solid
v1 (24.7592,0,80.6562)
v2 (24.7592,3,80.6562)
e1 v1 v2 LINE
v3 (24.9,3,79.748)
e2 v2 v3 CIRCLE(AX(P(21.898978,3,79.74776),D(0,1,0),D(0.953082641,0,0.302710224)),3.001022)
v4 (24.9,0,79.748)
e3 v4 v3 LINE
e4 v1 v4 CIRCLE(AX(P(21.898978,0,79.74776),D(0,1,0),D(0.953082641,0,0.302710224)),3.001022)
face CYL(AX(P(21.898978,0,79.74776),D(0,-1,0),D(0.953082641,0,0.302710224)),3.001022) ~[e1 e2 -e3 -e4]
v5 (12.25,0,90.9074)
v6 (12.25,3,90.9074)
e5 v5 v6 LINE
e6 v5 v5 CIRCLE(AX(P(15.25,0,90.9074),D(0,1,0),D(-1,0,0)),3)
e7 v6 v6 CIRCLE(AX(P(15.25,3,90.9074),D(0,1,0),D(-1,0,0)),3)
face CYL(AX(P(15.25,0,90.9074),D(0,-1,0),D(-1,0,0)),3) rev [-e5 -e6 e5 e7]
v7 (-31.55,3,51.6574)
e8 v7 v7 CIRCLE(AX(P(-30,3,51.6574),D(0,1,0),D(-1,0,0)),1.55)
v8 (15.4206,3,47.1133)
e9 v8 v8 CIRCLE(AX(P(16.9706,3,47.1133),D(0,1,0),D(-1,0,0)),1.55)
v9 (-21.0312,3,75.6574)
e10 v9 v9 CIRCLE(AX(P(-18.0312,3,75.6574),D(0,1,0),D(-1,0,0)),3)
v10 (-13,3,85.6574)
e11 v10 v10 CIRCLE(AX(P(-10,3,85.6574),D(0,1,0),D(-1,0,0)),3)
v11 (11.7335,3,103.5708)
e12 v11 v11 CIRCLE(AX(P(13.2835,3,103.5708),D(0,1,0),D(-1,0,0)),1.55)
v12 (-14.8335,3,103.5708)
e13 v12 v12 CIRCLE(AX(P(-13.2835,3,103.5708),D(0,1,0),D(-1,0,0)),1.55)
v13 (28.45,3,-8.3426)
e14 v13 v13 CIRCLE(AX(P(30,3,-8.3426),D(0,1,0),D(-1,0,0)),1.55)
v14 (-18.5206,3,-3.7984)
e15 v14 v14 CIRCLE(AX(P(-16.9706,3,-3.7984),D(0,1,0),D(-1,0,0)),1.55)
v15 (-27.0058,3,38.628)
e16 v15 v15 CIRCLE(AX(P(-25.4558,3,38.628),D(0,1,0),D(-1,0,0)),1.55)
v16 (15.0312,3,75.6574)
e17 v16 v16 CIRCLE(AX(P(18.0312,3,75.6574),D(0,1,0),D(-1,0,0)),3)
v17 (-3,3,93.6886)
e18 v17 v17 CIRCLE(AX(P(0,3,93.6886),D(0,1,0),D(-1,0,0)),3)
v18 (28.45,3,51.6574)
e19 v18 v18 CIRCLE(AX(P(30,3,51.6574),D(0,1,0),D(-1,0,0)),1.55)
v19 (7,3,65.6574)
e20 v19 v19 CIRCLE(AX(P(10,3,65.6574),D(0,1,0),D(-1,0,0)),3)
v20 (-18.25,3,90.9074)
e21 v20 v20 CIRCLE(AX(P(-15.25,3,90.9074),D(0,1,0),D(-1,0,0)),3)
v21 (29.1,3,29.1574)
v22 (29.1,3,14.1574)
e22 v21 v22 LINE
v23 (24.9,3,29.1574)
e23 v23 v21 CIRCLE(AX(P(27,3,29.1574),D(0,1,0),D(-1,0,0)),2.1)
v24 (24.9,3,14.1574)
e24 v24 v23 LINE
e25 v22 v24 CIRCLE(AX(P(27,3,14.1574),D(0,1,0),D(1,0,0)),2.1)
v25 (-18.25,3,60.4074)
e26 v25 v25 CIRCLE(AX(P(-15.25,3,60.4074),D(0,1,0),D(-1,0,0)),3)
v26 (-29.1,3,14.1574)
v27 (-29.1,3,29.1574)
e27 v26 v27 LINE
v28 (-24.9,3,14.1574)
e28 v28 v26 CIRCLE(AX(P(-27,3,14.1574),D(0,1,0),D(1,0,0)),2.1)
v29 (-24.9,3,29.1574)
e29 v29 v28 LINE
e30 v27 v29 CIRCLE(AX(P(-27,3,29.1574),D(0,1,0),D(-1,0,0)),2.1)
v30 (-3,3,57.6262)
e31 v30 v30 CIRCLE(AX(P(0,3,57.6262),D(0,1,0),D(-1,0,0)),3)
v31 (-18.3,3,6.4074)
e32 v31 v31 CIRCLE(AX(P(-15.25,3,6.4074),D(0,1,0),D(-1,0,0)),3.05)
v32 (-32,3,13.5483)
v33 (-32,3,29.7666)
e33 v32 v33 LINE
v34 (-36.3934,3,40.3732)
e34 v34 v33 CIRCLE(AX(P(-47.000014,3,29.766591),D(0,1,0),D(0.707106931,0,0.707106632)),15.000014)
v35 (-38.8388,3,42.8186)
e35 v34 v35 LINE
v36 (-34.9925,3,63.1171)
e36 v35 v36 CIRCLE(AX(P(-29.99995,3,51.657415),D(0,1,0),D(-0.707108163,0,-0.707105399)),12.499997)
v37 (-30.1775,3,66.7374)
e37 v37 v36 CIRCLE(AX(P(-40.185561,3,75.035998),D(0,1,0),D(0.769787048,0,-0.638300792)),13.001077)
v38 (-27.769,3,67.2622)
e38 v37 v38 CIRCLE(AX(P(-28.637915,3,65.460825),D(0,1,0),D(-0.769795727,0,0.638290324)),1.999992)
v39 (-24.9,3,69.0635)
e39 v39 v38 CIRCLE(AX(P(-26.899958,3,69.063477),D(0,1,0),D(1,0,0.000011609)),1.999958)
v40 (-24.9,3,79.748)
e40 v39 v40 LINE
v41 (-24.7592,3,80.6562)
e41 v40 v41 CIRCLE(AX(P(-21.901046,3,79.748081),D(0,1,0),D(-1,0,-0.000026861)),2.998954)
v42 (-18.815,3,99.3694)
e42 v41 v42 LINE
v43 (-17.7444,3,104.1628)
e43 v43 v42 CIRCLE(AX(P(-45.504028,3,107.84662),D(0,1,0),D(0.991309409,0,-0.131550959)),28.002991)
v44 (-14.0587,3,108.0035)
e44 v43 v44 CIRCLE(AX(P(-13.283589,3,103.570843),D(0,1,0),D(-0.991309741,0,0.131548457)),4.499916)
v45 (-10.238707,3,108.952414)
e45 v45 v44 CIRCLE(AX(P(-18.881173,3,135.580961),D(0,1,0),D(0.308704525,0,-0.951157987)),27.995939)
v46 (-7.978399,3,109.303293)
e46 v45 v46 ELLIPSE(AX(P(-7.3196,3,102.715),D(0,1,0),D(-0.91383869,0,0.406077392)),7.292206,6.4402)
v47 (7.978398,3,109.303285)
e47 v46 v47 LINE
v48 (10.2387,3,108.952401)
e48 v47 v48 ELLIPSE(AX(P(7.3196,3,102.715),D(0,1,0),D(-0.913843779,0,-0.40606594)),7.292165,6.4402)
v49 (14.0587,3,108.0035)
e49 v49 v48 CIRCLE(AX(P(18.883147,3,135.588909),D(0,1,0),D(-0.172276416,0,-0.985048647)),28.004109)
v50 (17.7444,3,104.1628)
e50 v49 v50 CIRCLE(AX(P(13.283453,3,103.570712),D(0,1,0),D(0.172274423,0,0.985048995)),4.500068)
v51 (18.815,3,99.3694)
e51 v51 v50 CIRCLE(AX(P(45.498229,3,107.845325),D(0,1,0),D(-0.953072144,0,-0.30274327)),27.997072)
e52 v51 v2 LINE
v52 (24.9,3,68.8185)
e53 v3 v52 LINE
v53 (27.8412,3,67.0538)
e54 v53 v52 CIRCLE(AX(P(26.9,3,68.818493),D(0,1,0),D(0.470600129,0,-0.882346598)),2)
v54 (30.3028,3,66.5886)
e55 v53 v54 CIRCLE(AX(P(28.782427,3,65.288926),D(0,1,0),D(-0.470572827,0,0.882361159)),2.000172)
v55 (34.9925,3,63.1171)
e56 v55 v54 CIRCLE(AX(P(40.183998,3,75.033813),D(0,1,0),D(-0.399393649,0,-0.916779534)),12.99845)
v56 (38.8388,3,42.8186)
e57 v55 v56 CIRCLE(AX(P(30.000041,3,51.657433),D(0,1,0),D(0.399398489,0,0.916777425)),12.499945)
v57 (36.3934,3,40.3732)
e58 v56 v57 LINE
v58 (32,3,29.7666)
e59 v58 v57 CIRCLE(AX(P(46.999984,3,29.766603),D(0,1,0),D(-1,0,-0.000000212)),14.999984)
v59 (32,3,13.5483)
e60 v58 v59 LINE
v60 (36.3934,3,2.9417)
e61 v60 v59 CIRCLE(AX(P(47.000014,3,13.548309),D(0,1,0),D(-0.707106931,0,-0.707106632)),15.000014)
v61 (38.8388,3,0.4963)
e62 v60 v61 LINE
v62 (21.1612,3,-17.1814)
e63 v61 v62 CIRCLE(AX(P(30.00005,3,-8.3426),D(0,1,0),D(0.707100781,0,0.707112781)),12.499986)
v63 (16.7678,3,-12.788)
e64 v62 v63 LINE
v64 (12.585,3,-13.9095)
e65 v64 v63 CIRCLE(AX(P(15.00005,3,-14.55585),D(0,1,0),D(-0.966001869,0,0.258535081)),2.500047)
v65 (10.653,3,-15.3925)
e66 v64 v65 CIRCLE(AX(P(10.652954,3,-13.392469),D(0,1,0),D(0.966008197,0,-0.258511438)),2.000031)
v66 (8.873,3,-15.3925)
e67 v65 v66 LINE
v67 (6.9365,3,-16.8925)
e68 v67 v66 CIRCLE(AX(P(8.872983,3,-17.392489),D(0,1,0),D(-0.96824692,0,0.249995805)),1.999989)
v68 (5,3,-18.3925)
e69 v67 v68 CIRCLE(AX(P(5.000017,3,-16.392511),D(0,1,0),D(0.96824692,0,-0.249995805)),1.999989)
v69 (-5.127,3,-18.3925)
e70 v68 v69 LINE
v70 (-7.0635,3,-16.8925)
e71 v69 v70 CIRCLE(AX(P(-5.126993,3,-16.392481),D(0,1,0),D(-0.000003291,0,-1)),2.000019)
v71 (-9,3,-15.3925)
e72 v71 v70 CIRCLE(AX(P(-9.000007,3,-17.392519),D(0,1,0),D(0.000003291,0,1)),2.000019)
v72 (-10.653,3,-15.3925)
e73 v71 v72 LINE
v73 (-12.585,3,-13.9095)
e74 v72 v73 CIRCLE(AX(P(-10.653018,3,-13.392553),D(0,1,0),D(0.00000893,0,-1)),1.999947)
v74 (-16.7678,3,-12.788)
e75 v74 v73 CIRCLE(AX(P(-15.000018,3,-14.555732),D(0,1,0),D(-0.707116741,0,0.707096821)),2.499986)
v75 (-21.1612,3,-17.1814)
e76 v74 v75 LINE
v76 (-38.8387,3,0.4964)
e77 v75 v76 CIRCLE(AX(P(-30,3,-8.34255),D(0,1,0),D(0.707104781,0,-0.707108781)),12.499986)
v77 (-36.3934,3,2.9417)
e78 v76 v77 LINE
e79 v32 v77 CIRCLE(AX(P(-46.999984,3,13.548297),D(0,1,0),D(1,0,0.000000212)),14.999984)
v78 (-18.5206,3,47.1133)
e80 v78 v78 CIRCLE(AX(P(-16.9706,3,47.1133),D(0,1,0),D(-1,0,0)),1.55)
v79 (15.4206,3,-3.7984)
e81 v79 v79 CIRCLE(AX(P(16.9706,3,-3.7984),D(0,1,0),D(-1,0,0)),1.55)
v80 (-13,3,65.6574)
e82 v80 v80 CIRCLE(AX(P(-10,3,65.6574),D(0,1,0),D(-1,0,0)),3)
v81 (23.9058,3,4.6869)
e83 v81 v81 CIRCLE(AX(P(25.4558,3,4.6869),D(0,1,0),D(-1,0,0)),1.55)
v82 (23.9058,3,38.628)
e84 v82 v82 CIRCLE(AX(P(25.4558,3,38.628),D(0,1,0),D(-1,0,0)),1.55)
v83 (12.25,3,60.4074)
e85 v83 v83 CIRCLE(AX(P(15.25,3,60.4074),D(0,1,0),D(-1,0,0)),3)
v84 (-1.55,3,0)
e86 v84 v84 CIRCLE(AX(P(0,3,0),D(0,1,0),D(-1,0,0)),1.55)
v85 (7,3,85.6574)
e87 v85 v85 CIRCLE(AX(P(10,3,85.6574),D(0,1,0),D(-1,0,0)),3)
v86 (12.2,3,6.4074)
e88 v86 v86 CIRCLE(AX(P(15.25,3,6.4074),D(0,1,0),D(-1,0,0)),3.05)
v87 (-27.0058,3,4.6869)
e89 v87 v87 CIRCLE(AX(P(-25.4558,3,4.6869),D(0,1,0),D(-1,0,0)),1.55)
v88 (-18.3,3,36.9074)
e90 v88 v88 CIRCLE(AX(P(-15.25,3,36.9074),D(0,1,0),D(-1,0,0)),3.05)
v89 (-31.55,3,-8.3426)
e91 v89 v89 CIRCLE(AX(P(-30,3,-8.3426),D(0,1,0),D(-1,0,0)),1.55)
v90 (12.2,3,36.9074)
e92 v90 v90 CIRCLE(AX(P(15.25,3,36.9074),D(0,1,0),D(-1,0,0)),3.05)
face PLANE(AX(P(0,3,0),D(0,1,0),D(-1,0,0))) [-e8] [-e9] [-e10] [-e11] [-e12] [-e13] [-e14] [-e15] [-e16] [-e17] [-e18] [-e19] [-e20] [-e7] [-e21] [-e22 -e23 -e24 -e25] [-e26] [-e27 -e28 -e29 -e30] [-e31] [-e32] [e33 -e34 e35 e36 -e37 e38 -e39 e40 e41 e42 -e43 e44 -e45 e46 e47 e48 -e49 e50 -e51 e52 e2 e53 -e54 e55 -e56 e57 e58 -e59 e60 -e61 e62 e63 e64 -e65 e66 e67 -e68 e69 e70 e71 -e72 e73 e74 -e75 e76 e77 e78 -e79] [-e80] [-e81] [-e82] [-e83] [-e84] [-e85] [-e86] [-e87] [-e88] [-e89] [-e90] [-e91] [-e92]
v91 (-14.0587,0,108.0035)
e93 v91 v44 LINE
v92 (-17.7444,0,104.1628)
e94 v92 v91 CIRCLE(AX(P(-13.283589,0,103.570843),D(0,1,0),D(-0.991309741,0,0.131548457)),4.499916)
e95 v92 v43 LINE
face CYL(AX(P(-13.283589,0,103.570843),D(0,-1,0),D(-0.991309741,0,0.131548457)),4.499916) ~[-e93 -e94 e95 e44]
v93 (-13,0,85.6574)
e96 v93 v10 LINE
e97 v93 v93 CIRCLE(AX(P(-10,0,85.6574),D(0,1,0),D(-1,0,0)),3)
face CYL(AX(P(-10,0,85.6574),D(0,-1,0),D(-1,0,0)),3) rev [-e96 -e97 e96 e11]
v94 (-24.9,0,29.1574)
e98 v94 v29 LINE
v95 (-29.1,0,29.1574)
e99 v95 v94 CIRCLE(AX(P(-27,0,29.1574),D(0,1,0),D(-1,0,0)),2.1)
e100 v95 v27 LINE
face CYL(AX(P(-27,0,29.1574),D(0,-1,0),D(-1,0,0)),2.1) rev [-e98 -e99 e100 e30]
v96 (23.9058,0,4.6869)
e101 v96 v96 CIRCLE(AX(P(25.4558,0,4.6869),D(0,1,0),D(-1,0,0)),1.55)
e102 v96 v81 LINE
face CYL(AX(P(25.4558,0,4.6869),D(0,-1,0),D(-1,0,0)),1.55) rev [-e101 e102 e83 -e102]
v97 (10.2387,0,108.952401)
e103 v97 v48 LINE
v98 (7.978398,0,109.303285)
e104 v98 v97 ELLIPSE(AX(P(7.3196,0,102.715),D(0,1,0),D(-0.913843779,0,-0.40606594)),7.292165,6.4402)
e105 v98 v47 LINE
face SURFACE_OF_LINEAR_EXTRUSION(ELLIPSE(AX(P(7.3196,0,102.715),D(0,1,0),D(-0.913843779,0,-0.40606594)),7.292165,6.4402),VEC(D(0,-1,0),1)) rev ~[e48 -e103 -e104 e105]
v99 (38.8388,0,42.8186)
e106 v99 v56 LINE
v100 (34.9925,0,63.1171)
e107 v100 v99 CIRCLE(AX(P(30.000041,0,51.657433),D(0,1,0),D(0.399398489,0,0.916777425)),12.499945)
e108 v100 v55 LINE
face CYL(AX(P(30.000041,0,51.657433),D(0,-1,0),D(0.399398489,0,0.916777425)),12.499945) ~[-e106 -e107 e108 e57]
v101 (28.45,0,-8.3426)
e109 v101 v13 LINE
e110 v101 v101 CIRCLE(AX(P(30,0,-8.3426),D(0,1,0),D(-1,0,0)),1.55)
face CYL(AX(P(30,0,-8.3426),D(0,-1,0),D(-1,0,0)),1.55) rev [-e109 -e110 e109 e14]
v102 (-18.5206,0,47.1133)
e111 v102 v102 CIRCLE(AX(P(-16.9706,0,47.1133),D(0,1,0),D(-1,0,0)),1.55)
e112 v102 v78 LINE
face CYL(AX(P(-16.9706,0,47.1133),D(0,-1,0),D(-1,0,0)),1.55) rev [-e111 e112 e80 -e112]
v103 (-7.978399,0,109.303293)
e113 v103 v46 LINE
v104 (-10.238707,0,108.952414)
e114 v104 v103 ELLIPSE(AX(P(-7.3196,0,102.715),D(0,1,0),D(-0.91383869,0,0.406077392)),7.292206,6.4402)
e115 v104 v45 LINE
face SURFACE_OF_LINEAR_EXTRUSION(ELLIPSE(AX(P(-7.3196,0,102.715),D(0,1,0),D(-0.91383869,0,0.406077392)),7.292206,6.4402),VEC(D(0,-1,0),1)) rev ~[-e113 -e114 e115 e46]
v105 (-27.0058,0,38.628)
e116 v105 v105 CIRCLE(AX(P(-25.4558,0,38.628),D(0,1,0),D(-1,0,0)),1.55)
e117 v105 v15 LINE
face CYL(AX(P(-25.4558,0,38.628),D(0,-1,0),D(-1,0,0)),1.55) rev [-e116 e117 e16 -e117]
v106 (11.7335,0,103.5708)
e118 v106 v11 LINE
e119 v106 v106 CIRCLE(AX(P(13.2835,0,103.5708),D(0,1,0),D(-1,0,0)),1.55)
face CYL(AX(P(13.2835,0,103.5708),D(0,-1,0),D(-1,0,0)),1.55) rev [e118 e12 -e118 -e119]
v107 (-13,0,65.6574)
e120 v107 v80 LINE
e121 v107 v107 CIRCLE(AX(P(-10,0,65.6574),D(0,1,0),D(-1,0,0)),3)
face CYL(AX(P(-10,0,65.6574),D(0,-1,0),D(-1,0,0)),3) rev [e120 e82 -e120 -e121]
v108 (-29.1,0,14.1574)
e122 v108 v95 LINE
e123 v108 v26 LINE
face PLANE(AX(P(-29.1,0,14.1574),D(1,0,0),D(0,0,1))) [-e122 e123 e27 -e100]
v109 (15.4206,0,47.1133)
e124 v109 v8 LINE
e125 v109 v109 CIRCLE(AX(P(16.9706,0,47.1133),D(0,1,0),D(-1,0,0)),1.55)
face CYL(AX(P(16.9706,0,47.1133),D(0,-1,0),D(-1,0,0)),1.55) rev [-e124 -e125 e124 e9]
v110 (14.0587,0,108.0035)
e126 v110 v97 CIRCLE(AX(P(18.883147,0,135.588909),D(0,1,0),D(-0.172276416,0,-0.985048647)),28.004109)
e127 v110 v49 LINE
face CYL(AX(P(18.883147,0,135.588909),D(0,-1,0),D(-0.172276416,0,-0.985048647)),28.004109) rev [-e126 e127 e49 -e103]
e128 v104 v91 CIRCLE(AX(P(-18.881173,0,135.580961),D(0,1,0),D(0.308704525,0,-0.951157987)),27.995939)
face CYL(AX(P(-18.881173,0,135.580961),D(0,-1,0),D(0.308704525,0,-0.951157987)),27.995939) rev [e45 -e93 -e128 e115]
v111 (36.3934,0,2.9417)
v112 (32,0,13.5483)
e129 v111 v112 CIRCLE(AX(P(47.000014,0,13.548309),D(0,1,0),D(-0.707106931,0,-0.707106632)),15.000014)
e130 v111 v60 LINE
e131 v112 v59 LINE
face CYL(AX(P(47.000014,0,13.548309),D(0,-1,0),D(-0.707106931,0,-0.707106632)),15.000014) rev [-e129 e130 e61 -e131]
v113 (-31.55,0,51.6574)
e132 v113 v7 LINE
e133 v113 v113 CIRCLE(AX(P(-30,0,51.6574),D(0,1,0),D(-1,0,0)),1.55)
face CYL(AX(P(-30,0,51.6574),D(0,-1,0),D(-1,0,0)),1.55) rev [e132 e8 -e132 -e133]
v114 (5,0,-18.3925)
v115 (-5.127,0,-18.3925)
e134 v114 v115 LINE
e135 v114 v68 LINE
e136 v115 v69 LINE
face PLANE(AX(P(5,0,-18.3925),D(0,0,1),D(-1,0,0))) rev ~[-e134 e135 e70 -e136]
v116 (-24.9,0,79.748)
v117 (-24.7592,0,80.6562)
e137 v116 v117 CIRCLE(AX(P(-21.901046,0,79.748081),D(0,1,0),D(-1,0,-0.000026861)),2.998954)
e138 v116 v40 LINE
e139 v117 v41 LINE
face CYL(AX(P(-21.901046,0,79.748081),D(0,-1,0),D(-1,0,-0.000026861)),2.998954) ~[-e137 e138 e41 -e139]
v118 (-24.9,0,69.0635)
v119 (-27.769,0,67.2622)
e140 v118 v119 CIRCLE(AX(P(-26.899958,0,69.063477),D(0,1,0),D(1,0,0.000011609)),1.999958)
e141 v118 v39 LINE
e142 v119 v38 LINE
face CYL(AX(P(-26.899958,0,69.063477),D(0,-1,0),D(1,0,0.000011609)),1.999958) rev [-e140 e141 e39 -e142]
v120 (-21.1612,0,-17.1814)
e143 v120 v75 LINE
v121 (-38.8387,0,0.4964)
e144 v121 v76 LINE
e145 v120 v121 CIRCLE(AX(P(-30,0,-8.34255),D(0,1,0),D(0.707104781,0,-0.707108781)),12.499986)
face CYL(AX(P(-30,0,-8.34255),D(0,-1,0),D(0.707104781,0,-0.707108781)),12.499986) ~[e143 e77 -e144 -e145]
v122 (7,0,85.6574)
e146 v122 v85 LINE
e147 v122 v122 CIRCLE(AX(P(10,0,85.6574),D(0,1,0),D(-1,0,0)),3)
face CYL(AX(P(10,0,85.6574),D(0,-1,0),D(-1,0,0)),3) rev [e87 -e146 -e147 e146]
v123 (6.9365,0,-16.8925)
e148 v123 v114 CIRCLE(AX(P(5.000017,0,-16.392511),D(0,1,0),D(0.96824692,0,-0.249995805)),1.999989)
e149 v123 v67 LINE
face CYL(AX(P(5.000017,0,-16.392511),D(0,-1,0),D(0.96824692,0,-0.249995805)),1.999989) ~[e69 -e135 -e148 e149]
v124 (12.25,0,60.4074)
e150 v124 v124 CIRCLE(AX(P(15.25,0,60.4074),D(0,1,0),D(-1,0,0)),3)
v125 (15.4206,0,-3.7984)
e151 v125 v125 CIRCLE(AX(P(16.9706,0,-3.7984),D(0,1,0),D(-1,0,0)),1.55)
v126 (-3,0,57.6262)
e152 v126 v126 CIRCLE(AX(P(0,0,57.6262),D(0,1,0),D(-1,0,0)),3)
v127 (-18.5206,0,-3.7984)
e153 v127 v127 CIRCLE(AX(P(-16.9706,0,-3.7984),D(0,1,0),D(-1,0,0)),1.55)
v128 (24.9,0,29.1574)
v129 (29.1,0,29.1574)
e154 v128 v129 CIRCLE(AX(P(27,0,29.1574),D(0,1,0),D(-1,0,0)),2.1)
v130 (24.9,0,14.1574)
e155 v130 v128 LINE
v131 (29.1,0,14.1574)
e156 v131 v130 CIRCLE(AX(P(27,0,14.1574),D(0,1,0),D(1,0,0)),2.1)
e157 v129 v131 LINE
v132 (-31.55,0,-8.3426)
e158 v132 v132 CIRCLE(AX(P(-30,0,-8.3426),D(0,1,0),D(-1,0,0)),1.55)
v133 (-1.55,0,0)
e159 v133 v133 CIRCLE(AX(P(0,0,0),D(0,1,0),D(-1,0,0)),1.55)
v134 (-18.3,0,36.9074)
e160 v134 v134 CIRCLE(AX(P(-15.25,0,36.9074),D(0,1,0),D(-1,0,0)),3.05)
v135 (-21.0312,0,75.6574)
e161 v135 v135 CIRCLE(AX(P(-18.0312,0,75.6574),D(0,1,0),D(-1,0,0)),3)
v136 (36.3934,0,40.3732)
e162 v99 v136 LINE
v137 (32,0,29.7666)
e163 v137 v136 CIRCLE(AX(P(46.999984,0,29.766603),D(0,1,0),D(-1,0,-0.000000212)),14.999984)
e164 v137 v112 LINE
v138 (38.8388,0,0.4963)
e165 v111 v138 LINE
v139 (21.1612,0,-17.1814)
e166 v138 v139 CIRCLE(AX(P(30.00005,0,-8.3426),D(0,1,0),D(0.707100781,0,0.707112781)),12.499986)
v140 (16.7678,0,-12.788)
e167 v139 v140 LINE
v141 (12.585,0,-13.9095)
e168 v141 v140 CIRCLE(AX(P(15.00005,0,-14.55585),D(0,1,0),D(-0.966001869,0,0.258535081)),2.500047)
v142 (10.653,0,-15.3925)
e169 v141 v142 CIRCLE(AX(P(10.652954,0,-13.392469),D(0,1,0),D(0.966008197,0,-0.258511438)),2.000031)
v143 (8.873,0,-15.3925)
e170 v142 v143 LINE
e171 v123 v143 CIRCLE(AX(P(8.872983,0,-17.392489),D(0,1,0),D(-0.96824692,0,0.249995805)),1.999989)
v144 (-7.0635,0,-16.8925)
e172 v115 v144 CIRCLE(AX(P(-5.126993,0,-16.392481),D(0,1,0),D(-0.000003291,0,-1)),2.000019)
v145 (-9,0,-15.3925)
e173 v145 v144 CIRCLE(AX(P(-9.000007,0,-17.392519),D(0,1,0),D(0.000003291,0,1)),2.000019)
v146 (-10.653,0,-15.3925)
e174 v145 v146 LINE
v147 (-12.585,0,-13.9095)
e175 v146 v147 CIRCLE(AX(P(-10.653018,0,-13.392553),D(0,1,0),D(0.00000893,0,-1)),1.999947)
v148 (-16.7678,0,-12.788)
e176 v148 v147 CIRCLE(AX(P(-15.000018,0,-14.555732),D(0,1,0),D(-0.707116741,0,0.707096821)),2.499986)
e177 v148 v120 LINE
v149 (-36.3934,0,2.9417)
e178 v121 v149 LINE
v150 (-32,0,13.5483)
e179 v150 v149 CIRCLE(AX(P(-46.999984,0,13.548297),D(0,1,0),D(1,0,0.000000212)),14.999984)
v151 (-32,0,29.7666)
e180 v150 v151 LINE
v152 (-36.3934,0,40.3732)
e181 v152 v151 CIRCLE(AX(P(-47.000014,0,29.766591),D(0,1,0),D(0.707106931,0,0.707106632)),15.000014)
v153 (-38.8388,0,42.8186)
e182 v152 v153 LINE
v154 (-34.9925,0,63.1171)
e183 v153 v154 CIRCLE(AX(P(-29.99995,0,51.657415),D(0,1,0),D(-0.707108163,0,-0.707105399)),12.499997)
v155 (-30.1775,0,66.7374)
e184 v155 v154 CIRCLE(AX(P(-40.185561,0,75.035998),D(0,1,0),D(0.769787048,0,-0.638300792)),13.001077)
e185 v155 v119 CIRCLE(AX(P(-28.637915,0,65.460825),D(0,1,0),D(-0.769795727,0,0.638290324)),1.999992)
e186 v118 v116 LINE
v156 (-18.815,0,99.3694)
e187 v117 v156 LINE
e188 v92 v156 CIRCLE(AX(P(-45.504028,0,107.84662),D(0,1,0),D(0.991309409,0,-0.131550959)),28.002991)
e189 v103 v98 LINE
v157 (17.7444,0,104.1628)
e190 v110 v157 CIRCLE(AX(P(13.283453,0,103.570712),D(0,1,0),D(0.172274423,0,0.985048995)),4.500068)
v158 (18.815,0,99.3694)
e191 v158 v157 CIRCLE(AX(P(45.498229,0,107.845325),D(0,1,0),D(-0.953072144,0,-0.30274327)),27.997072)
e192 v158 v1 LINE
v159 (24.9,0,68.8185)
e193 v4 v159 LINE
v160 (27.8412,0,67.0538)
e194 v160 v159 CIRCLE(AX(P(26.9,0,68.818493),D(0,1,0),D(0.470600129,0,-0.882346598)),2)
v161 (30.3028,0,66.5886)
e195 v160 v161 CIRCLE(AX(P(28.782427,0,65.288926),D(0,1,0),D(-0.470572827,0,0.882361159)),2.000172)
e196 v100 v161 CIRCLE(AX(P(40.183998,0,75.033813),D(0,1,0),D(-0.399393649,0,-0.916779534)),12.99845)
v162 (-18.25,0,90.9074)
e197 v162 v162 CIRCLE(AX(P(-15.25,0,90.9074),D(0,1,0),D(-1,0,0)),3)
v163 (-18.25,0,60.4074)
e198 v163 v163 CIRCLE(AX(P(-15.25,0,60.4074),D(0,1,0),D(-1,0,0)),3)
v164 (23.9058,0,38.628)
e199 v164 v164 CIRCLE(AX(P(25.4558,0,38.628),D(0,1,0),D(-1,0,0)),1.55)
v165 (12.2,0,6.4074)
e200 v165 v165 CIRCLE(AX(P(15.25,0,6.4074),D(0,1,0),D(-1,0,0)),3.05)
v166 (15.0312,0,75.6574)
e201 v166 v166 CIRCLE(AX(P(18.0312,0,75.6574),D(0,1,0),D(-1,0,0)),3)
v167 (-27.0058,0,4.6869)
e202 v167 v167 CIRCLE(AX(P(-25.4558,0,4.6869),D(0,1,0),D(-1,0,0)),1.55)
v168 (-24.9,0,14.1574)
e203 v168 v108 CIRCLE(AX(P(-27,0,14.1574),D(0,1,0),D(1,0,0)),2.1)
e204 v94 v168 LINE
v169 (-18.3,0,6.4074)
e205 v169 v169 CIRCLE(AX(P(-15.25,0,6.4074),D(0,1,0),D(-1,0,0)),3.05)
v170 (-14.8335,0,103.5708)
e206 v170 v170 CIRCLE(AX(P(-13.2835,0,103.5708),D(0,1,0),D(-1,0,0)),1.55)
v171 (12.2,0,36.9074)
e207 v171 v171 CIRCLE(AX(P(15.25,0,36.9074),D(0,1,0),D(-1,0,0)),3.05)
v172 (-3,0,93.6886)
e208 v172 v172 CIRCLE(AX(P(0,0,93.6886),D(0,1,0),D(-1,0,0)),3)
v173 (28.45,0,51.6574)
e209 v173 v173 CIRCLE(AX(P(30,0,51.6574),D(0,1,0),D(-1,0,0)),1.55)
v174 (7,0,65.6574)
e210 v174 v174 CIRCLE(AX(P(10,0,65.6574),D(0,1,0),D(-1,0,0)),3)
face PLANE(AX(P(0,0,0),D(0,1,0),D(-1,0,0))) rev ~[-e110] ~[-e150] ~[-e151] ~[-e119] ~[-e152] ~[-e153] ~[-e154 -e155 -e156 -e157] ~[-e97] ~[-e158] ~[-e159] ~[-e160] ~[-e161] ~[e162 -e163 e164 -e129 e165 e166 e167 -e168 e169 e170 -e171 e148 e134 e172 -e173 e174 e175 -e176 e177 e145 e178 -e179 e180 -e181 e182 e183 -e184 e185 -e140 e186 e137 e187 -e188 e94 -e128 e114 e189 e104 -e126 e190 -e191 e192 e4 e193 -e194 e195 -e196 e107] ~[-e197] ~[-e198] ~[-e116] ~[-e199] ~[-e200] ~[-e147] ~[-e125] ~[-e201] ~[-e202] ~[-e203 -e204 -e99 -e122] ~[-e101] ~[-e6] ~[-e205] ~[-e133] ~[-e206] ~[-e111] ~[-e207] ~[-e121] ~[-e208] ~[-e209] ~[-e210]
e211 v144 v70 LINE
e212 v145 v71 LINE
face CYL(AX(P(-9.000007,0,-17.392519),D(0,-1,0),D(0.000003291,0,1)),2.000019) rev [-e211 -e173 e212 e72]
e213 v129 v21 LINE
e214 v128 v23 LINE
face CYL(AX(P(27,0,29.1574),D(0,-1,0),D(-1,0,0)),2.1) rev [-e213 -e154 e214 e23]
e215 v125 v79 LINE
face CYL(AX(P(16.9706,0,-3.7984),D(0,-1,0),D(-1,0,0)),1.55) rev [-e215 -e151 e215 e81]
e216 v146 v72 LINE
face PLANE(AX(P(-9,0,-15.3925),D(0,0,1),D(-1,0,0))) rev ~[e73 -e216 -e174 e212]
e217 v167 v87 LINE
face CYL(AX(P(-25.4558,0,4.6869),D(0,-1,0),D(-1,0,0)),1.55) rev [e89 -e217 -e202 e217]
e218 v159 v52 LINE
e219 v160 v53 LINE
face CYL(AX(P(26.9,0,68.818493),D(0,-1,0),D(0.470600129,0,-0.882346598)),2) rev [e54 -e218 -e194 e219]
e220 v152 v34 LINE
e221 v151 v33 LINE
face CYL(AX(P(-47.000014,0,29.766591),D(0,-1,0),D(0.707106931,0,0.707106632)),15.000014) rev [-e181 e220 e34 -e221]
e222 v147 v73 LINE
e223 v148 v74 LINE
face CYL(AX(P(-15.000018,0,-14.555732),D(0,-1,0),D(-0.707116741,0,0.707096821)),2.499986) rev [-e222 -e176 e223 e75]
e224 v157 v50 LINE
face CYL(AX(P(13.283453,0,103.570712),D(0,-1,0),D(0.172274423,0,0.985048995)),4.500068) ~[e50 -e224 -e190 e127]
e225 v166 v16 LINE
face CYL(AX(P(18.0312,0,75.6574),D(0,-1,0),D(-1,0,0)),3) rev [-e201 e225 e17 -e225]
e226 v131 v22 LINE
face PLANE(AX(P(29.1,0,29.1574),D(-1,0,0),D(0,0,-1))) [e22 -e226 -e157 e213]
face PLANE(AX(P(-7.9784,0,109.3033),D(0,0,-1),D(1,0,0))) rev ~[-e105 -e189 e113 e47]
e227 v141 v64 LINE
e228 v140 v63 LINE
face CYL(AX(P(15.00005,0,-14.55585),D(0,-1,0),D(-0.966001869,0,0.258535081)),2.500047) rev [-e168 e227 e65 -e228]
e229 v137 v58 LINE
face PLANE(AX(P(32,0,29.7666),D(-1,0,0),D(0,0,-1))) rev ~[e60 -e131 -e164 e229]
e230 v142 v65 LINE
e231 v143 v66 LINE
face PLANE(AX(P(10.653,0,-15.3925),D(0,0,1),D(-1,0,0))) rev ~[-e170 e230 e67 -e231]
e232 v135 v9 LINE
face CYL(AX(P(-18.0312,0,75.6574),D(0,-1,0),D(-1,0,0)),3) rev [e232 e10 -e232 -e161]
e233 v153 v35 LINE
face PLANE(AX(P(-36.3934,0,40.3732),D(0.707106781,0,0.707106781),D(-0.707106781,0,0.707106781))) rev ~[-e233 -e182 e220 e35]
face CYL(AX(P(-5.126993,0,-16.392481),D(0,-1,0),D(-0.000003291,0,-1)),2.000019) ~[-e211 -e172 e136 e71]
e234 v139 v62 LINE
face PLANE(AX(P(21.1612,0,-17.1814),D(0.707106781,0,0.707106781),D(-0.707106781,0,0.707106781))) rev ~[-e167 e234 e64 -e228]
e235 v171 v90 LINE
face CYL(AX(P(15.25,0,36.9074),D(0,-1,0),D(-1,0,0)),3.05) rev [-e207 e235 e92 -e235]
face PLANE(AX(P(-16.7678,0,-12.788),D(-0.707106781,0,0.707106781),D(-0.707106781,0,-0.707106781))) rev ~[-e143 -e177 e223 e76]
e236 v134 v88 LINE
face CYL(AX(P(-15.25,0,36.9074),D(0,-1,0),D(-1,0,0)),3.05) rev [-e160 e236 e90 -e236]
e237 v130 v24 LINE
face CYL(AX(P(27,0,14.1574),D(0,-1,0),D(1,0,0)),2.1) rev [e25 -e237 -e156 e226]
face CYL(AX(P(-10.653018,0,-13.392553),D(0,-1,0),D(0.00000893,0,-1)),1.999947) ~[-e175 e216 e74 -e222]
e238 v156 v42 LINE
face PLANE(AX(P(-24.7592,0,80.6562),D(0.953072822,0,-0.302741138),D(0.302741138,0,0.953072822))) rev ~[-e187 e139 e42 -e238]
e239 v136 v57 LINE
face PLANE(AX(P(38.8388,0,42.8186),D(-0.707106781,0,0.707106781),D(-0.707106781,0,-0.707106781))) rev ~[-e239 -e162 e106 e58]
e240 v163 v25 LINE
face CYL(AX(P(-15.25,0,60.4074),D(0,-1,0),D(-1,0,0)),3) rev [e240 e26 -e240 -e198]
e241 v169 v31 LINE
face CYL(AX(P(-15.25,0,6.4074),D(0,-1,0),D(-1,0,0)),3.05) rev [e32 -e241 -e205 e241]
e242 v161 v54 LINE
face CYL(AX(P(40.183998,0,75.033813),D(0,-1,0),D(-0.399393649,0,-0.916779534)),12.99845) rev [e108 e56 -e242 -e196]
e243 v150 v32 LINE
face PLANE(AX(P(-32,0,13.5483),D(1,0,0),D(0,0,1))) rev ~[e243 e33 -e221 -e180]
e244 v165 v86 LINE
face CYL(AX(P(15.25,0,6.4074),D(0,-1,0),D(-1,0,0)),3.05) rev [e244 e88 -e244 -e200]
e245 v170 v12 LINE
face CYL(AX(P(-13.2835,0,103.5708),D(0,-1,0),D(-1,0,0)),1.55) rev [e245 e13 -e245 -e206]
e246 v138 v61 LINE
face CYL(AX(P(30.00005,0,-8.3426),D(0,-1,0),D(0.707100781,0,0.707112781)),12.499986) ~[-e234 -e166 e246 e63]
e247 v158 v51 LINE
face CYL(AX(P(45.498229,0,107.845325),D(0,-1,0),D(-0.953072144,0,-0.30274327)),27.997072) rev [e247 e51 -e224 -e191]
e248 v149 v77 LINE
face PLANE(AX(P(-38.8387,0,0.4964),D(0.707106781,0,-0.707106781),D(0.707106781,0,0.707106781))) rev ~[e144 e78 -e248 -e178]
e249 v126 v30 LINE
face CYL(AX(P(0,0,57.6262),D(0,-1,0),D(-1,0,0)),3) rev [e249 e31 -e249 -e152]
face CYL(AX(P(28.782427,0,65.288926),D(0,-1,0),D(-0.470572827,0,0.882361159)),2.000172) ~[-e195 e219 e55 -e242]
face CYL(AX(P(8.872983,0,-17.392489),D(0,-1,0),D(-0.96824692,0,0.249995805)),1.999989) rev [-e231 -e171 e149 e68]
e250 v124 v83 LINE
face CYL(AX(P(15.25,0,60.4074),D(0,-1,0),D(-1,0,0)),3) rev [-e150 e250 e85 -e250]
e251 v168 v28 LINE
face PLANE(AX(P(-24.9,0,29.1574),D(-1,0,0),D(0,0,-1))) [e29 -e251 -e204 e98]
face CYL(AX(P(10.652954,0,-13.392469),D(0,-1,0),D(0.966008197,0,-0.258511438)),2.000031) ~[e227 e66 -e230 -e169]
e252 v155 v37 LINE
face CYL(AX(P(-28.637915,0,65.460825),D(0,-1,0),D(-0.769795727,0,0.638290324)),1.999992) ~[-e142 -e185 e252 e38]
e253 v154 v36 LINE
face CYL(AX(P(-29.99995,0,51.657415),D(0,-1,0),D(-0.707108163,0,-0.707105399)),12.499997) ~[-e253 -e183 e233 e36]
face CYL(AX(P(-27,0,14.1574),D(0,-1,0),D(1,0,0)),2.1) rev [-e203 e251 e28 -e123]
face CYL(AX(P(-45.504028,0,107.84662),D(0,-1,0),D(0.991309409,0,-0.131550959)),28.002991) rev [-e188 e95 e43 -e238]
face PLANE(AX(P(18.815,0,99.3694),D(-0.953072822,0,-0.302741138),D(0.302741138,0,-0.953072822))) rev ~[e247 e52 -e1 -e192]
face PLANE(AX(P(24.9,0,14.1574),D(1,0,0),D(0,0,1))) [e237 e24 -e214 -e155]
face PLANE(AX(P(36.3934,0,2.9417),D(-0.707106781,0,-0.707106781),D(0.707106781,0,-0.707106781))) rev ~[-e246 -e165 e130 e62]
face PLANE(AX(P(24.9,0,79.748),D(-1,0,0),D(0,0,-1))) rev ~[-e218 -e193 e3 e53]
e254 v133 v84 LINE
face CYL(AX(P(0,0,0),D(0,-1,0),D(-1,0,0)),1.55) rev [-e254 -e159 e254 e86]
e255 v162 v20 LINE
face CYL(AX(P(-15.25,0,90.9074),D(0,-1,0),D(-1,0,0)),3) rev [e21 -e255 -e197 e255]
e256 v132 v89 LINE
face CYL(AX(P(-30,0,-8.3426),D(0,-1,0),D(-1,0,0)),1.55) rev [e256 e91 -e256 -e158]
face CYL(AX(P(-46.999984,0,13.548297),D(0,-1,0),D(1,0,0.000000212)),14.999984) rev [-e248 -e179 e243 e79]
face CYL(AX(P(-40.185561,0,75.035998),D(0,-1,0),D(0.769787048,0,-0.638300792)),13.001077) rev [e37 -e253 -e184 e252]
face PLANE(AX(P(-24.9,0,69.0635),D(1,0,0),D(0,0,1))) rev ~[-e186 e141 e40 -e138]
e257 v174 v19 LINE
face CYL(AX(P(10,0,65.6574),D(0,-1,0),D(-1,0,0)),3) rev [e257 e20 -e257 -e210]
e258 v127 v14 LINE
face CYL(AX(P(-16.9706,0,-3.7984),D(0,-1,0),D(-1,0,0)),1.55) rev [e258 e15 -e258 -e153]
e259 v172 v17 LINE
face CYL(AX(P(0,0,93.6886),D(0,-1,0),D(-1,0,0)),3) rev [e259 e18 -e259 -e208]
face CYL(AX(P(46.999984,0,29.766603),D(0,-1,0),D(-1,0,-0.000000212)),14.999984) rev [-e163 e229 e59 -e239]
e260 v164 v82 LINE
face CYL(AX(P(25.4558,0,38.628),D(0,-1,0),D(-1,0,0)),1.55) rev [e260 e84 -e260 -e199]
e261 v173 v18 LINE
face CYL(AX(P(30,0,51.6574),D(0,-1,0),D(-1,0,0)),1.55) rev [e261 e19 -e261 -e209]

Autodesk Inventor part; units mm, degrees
ref_plane "YZ Plane" through (0, 0, 0) normal (1, 0, 0) x (0, 1, 0)
ref_plane "XZ Plane" through (0, 0, 0) normal (0, 1, 0) x (-1, 0, 0)
ref_plane "XY Plane" through (0, 0, 0) normal (0, 0, 1) x (1, 0, 0)
sketch "Sketch1" plane through (0, 0, 0) normal (0, 1, 0) x (-1, 0, 0)
  arc A0 (24.9, 14.1574) -> (29.1, 14.1574) centre (27, 14.1574) ccw
  line L0 (29.1, 14.1574) -> (29.1, 29.1574)
  arc A1 (29.1, 29.1574) -> (24.9, 29.1574) centre (27, 29.1574) ccw
  line L1 (24.9, 29.1574) -> (24.9, 14.1574)
  arc A2 (-29.1, 14.1574) -> (-24.9, 14.1574) centre (-27, 14.1574) ccw
  line L2 (-24.9, 14.1574) -> (-24.9, 29.1574)
  arc A3 (-24.9, 29.1574) -> (-29.1, 29.1574) centre (-27, 29.1574) ccw
  line L3 (-29.1, 29.1574) -> (-29.1, 14.1574)
  ellipse E0 centre (7.3196, 102.715) end of major axis (13.9835, 105.6762) minor radius 6.4402 (10.2387, 108.9524) -> (7.9784, 109.3033) ccw
  line L4 (7.9784, 109.3033) -> (-7.9784, 109.3033)
  ellipse E1 centre (-7.3196, 102.715) end of major axis (-0.6557, 99.7539) minor radius 6.4402 (-7.9784, 109.3033) -> (-10.2387, 108.9524) ccw
  arc A4 (-14.0587, 108.0035) -> (-10.2387, 108.9524) centre (-18.8823, 135.5849) ccw
  arc A5 (-14.0587, 108.0035) -> (-17.7444, 104.1628) centre (-13.2835, 103.5708) ccw
  arc A6 (-18.815, 99.3694) -> (-17.7444, 104.1628) centre (-45.5011, 107.8461) ccw
  line L5 (-18.815, 99.3694) -> (-24.7592, 80.6562)
  arc A7 (-24.7592, 80.6562) -> (-24.9, 79.748) centre (-21.9, 79.748) ccw
  line L6 (-24.9, 79.748) -> (-24.9, 68.8185)
  arc A8 (-27.8412, 67.0538) -> (-24.9, 68.8185) centre (-26.9, 68.8185) ccw
  arc A9 (-27.8412, 67.0538) -> (-30.3028, 66.5886) centre (-28.7824, 65.2891) ccw
  arc A10 (-34.9925, 63.1171) -> (-30.3028, 66.5886) centre (-40.1848, 75.0352) ccw
  arc A11 (-34.9925, 63.1171) -> (-38.8388, 42.8186) centre (-30, 51.6574) ccw
  line L7 (-38.8388, 42.8186) -> (-36.3934, 40.3732)
  arc A12 (-32, 29.7666) -> (-36.3934, 40.3732) centre (-47, 29.7666) ccw
  line L8 (-32, 29.7666) -> (-32, 13.5483)
  arc A13 (-36.3934, 2.9417) -> (-32, 13.5483) centre (-47, 13.5483) ccw
  line L9 (-36.3934, 2.9417) -> (-38.8388, 0.4963)
  arc A14 (-38.8388, 0.4963) -> (-21.1612, -17.1814) centre (-30, -8.3426) ccw
  line L10 (-21.1612, -17.1814) -> (-16.7678, -12.788)
  arc A15 (-12.585, -13.9095) -> (-16.7678, -12.788) centre (-15, -14.5558) ccw
  arc A16 (-12.585, -13.9095) -> (-10.653, -15.3925) centre (-10.653, -13.3925) ccw
  line L11 (-10.653, -15.3925) -> (-8.873, -15.3925)
  arc A17 (-6.9365, -16.8925) -> (-8.873, -15.3925) centre (-8.873, -17.3925) ccw
  arc A18 (-6.9365, -16.8925) -> (-5, -18.3925) centre (-5, -16.3925) ccw
  line L12 (-5, -18.3925) -> (5.127, -18.3925)
  arc A19 (5.127, -18.3925) -> (7.0635, -16.8925) centre (5.127, -16.3925) ccw
  arc A20 (9, -15.3925) -> (7.0635, -16.8925) centre (9, -17.3925) ccw
  line L13 (9, -15.3925) -> (10.653, -15.3925)
  arc A21 (10.653, -15.3925) -> (12.585, -13.9095) centre (10.653, -13.3925) ccw
  arc A22 (16.7678, -12.788) -> (12.585, -13.9095) centre (15, -14.5558) ccw
  line L14 (16.7678, -12.788) -> (21.1612, -17.1814)
  arc A23 (21.1612, -17.1814) -> (38.8387, 0.4964) centre (30, -8.3426) ccw
  line L15 (38.8387, 0.4964) -> (36.3934, 2.9417)
  arc A24 (32, 13.5483) -> (36.3934, 2.9417) centre (47, 13.5483) ccw
  line L16 (32, 13.5483) -> (32, 29.7666)
  arc A25 (36.3934, 40.3732) -> (32, 29.7666) centre (47, 29.7666) ccw
  line L17 (36.3934, 40.3732) -> (38.8388, 42.8186)
  arc A26 (38.8388, 42.8186) -> (34.9925, 63.1171) centre (30, 51.6574) ccw
  arc A27 (30.1775, 66.7374) -> (34.9925, 63.1171) centre (40.1848, 75.0352) ccw
  arc A28 (30.1775, 66.7374) -> (27.769, 67.2622) centre (28.6379, 65.4608) ccw
  arc A29 (24.9, 69.0635) -> (27.769, 67.2622) centre (26.9, 69.0635) ccw
  line L18 (24.9, 69.0635) -> (24.9, 79.748)
  arc A30 (24.9, 79.748) -> (24.7592, 80.6562) centre (21.9, 79.748) ccw
  line L19 (24.7592, 80.6562) -> (18.815, 99.3694)
  arc A31 (17.7444, 104.1628) -> (18.815, 99.3694) centre (45.5011, 107.8461) ccw
  arc A32 (17.7444, 104.1628) -> (14.0587, 108.0035) centre (13.2835, 103.5708) ccw
  arc A33 (10.2387, 108.9524) -> (14.0587, 108.0035) centre (18.8823, 135.5849) ccw
  circle A34 centre (-15.25, 6.4074) radius 3.05
  circle A35 centre (15.25, 36.9074) radius 3.05
  circle A36 centre (15.25, 6.4074) radius 3.05
  circle A37 centre (-15.25, 36.9074) radius 3.05
  circle A38 centre (-18.0312, 75.6574) radius 3
  circle A39 centre (0, 57.6262) radius 3
  circle A40 centre (18.0312, 75.6574) radius 3
  circle A41 centre (0, 93.6886) radius 3
  circle A42 centre (-25.4558, 4.6869) radius 1.55
  circle A43 centre (-13.2835, 103.5708) radius 1.55
  circle A44 centre (-30, -8.3426) radius 1.55
  circle A45 centre (-16.9706, 47.1133) radius 1.55
  circle A46 centre (25.4558, 38.628) radius 1.55
  circle A47 centre (-10, 85.6574) radius 3
  circle A48 centre (30, 51.6574) radius 1.55
  circle A49 centre (-16.9706, -3.7984) radius 1.55
  circle A50 centre (-25.4558, 38.628) radius 1.55
  circle A51 centre (16.9706, 47.1133) radius 1.55
  circle A52 centre (13.2835, 103.5708) radius 1.55
  circle A53 centre (0, 0) radius 1.55
  circle A54 centre (25.4558, 4.6869) radius 1.55
  circle A55 centre (16.9706, -3.7984) radius 1.55
  circle A56 centre (30, -8.3426) radius 1.55
  circle A57 centre (-15.25, 90.9074) radius 3
  circle A58 centre (-10, 65.6574) radius 3
  circle A59 centre (-15.25, 60.4074) radius 3
  circle A60 centre (10, 65.6574) radius 3
  circle A61 centre (15.25, 60.4074) radius 3
  circle A62 centre (-30, 51.6574) radius 1.55
  circle A63 centre (10, 85.6574) radius 3
  circle A64 centre (15.25, 90.9074) radius 3
  point P0 (38.8387, 0.4964)
  point P1 (38.8388, 42.8186)
  point P2 (34.9925, 63.1171)
  point P3 (30.1775, 66.7374)
  point P4 (24.7592, 80.6562)
  point P5 (18.815, 99.3694)
  point P6 (17.7444, 104.1628)
  point P7 (-7.9784, 109.3033)
  point P8 (-10.2387, 108.9524)
  point P9 (-17.7444, 104.1628)
  point P10 (-27.8412, 67.0538)
  point P11 (-30.3028, 66.5886)
  point P12 (-36.3934, 2.9417)
  point P13 (-21.1612, -17.1814)
  point P14 (-12.585, -13.9095)
  point P15 (-6.9365, -16.8925)
  point P16 (7.0635, -16.8925)
  point P17 (29.1, 29.1574)
  point P18 (24.9, 29.1574)
extrude "Extrusion1" add sketch "Sketch1" along normal blind 3
properties part number "Kauri bottom plate V2"
